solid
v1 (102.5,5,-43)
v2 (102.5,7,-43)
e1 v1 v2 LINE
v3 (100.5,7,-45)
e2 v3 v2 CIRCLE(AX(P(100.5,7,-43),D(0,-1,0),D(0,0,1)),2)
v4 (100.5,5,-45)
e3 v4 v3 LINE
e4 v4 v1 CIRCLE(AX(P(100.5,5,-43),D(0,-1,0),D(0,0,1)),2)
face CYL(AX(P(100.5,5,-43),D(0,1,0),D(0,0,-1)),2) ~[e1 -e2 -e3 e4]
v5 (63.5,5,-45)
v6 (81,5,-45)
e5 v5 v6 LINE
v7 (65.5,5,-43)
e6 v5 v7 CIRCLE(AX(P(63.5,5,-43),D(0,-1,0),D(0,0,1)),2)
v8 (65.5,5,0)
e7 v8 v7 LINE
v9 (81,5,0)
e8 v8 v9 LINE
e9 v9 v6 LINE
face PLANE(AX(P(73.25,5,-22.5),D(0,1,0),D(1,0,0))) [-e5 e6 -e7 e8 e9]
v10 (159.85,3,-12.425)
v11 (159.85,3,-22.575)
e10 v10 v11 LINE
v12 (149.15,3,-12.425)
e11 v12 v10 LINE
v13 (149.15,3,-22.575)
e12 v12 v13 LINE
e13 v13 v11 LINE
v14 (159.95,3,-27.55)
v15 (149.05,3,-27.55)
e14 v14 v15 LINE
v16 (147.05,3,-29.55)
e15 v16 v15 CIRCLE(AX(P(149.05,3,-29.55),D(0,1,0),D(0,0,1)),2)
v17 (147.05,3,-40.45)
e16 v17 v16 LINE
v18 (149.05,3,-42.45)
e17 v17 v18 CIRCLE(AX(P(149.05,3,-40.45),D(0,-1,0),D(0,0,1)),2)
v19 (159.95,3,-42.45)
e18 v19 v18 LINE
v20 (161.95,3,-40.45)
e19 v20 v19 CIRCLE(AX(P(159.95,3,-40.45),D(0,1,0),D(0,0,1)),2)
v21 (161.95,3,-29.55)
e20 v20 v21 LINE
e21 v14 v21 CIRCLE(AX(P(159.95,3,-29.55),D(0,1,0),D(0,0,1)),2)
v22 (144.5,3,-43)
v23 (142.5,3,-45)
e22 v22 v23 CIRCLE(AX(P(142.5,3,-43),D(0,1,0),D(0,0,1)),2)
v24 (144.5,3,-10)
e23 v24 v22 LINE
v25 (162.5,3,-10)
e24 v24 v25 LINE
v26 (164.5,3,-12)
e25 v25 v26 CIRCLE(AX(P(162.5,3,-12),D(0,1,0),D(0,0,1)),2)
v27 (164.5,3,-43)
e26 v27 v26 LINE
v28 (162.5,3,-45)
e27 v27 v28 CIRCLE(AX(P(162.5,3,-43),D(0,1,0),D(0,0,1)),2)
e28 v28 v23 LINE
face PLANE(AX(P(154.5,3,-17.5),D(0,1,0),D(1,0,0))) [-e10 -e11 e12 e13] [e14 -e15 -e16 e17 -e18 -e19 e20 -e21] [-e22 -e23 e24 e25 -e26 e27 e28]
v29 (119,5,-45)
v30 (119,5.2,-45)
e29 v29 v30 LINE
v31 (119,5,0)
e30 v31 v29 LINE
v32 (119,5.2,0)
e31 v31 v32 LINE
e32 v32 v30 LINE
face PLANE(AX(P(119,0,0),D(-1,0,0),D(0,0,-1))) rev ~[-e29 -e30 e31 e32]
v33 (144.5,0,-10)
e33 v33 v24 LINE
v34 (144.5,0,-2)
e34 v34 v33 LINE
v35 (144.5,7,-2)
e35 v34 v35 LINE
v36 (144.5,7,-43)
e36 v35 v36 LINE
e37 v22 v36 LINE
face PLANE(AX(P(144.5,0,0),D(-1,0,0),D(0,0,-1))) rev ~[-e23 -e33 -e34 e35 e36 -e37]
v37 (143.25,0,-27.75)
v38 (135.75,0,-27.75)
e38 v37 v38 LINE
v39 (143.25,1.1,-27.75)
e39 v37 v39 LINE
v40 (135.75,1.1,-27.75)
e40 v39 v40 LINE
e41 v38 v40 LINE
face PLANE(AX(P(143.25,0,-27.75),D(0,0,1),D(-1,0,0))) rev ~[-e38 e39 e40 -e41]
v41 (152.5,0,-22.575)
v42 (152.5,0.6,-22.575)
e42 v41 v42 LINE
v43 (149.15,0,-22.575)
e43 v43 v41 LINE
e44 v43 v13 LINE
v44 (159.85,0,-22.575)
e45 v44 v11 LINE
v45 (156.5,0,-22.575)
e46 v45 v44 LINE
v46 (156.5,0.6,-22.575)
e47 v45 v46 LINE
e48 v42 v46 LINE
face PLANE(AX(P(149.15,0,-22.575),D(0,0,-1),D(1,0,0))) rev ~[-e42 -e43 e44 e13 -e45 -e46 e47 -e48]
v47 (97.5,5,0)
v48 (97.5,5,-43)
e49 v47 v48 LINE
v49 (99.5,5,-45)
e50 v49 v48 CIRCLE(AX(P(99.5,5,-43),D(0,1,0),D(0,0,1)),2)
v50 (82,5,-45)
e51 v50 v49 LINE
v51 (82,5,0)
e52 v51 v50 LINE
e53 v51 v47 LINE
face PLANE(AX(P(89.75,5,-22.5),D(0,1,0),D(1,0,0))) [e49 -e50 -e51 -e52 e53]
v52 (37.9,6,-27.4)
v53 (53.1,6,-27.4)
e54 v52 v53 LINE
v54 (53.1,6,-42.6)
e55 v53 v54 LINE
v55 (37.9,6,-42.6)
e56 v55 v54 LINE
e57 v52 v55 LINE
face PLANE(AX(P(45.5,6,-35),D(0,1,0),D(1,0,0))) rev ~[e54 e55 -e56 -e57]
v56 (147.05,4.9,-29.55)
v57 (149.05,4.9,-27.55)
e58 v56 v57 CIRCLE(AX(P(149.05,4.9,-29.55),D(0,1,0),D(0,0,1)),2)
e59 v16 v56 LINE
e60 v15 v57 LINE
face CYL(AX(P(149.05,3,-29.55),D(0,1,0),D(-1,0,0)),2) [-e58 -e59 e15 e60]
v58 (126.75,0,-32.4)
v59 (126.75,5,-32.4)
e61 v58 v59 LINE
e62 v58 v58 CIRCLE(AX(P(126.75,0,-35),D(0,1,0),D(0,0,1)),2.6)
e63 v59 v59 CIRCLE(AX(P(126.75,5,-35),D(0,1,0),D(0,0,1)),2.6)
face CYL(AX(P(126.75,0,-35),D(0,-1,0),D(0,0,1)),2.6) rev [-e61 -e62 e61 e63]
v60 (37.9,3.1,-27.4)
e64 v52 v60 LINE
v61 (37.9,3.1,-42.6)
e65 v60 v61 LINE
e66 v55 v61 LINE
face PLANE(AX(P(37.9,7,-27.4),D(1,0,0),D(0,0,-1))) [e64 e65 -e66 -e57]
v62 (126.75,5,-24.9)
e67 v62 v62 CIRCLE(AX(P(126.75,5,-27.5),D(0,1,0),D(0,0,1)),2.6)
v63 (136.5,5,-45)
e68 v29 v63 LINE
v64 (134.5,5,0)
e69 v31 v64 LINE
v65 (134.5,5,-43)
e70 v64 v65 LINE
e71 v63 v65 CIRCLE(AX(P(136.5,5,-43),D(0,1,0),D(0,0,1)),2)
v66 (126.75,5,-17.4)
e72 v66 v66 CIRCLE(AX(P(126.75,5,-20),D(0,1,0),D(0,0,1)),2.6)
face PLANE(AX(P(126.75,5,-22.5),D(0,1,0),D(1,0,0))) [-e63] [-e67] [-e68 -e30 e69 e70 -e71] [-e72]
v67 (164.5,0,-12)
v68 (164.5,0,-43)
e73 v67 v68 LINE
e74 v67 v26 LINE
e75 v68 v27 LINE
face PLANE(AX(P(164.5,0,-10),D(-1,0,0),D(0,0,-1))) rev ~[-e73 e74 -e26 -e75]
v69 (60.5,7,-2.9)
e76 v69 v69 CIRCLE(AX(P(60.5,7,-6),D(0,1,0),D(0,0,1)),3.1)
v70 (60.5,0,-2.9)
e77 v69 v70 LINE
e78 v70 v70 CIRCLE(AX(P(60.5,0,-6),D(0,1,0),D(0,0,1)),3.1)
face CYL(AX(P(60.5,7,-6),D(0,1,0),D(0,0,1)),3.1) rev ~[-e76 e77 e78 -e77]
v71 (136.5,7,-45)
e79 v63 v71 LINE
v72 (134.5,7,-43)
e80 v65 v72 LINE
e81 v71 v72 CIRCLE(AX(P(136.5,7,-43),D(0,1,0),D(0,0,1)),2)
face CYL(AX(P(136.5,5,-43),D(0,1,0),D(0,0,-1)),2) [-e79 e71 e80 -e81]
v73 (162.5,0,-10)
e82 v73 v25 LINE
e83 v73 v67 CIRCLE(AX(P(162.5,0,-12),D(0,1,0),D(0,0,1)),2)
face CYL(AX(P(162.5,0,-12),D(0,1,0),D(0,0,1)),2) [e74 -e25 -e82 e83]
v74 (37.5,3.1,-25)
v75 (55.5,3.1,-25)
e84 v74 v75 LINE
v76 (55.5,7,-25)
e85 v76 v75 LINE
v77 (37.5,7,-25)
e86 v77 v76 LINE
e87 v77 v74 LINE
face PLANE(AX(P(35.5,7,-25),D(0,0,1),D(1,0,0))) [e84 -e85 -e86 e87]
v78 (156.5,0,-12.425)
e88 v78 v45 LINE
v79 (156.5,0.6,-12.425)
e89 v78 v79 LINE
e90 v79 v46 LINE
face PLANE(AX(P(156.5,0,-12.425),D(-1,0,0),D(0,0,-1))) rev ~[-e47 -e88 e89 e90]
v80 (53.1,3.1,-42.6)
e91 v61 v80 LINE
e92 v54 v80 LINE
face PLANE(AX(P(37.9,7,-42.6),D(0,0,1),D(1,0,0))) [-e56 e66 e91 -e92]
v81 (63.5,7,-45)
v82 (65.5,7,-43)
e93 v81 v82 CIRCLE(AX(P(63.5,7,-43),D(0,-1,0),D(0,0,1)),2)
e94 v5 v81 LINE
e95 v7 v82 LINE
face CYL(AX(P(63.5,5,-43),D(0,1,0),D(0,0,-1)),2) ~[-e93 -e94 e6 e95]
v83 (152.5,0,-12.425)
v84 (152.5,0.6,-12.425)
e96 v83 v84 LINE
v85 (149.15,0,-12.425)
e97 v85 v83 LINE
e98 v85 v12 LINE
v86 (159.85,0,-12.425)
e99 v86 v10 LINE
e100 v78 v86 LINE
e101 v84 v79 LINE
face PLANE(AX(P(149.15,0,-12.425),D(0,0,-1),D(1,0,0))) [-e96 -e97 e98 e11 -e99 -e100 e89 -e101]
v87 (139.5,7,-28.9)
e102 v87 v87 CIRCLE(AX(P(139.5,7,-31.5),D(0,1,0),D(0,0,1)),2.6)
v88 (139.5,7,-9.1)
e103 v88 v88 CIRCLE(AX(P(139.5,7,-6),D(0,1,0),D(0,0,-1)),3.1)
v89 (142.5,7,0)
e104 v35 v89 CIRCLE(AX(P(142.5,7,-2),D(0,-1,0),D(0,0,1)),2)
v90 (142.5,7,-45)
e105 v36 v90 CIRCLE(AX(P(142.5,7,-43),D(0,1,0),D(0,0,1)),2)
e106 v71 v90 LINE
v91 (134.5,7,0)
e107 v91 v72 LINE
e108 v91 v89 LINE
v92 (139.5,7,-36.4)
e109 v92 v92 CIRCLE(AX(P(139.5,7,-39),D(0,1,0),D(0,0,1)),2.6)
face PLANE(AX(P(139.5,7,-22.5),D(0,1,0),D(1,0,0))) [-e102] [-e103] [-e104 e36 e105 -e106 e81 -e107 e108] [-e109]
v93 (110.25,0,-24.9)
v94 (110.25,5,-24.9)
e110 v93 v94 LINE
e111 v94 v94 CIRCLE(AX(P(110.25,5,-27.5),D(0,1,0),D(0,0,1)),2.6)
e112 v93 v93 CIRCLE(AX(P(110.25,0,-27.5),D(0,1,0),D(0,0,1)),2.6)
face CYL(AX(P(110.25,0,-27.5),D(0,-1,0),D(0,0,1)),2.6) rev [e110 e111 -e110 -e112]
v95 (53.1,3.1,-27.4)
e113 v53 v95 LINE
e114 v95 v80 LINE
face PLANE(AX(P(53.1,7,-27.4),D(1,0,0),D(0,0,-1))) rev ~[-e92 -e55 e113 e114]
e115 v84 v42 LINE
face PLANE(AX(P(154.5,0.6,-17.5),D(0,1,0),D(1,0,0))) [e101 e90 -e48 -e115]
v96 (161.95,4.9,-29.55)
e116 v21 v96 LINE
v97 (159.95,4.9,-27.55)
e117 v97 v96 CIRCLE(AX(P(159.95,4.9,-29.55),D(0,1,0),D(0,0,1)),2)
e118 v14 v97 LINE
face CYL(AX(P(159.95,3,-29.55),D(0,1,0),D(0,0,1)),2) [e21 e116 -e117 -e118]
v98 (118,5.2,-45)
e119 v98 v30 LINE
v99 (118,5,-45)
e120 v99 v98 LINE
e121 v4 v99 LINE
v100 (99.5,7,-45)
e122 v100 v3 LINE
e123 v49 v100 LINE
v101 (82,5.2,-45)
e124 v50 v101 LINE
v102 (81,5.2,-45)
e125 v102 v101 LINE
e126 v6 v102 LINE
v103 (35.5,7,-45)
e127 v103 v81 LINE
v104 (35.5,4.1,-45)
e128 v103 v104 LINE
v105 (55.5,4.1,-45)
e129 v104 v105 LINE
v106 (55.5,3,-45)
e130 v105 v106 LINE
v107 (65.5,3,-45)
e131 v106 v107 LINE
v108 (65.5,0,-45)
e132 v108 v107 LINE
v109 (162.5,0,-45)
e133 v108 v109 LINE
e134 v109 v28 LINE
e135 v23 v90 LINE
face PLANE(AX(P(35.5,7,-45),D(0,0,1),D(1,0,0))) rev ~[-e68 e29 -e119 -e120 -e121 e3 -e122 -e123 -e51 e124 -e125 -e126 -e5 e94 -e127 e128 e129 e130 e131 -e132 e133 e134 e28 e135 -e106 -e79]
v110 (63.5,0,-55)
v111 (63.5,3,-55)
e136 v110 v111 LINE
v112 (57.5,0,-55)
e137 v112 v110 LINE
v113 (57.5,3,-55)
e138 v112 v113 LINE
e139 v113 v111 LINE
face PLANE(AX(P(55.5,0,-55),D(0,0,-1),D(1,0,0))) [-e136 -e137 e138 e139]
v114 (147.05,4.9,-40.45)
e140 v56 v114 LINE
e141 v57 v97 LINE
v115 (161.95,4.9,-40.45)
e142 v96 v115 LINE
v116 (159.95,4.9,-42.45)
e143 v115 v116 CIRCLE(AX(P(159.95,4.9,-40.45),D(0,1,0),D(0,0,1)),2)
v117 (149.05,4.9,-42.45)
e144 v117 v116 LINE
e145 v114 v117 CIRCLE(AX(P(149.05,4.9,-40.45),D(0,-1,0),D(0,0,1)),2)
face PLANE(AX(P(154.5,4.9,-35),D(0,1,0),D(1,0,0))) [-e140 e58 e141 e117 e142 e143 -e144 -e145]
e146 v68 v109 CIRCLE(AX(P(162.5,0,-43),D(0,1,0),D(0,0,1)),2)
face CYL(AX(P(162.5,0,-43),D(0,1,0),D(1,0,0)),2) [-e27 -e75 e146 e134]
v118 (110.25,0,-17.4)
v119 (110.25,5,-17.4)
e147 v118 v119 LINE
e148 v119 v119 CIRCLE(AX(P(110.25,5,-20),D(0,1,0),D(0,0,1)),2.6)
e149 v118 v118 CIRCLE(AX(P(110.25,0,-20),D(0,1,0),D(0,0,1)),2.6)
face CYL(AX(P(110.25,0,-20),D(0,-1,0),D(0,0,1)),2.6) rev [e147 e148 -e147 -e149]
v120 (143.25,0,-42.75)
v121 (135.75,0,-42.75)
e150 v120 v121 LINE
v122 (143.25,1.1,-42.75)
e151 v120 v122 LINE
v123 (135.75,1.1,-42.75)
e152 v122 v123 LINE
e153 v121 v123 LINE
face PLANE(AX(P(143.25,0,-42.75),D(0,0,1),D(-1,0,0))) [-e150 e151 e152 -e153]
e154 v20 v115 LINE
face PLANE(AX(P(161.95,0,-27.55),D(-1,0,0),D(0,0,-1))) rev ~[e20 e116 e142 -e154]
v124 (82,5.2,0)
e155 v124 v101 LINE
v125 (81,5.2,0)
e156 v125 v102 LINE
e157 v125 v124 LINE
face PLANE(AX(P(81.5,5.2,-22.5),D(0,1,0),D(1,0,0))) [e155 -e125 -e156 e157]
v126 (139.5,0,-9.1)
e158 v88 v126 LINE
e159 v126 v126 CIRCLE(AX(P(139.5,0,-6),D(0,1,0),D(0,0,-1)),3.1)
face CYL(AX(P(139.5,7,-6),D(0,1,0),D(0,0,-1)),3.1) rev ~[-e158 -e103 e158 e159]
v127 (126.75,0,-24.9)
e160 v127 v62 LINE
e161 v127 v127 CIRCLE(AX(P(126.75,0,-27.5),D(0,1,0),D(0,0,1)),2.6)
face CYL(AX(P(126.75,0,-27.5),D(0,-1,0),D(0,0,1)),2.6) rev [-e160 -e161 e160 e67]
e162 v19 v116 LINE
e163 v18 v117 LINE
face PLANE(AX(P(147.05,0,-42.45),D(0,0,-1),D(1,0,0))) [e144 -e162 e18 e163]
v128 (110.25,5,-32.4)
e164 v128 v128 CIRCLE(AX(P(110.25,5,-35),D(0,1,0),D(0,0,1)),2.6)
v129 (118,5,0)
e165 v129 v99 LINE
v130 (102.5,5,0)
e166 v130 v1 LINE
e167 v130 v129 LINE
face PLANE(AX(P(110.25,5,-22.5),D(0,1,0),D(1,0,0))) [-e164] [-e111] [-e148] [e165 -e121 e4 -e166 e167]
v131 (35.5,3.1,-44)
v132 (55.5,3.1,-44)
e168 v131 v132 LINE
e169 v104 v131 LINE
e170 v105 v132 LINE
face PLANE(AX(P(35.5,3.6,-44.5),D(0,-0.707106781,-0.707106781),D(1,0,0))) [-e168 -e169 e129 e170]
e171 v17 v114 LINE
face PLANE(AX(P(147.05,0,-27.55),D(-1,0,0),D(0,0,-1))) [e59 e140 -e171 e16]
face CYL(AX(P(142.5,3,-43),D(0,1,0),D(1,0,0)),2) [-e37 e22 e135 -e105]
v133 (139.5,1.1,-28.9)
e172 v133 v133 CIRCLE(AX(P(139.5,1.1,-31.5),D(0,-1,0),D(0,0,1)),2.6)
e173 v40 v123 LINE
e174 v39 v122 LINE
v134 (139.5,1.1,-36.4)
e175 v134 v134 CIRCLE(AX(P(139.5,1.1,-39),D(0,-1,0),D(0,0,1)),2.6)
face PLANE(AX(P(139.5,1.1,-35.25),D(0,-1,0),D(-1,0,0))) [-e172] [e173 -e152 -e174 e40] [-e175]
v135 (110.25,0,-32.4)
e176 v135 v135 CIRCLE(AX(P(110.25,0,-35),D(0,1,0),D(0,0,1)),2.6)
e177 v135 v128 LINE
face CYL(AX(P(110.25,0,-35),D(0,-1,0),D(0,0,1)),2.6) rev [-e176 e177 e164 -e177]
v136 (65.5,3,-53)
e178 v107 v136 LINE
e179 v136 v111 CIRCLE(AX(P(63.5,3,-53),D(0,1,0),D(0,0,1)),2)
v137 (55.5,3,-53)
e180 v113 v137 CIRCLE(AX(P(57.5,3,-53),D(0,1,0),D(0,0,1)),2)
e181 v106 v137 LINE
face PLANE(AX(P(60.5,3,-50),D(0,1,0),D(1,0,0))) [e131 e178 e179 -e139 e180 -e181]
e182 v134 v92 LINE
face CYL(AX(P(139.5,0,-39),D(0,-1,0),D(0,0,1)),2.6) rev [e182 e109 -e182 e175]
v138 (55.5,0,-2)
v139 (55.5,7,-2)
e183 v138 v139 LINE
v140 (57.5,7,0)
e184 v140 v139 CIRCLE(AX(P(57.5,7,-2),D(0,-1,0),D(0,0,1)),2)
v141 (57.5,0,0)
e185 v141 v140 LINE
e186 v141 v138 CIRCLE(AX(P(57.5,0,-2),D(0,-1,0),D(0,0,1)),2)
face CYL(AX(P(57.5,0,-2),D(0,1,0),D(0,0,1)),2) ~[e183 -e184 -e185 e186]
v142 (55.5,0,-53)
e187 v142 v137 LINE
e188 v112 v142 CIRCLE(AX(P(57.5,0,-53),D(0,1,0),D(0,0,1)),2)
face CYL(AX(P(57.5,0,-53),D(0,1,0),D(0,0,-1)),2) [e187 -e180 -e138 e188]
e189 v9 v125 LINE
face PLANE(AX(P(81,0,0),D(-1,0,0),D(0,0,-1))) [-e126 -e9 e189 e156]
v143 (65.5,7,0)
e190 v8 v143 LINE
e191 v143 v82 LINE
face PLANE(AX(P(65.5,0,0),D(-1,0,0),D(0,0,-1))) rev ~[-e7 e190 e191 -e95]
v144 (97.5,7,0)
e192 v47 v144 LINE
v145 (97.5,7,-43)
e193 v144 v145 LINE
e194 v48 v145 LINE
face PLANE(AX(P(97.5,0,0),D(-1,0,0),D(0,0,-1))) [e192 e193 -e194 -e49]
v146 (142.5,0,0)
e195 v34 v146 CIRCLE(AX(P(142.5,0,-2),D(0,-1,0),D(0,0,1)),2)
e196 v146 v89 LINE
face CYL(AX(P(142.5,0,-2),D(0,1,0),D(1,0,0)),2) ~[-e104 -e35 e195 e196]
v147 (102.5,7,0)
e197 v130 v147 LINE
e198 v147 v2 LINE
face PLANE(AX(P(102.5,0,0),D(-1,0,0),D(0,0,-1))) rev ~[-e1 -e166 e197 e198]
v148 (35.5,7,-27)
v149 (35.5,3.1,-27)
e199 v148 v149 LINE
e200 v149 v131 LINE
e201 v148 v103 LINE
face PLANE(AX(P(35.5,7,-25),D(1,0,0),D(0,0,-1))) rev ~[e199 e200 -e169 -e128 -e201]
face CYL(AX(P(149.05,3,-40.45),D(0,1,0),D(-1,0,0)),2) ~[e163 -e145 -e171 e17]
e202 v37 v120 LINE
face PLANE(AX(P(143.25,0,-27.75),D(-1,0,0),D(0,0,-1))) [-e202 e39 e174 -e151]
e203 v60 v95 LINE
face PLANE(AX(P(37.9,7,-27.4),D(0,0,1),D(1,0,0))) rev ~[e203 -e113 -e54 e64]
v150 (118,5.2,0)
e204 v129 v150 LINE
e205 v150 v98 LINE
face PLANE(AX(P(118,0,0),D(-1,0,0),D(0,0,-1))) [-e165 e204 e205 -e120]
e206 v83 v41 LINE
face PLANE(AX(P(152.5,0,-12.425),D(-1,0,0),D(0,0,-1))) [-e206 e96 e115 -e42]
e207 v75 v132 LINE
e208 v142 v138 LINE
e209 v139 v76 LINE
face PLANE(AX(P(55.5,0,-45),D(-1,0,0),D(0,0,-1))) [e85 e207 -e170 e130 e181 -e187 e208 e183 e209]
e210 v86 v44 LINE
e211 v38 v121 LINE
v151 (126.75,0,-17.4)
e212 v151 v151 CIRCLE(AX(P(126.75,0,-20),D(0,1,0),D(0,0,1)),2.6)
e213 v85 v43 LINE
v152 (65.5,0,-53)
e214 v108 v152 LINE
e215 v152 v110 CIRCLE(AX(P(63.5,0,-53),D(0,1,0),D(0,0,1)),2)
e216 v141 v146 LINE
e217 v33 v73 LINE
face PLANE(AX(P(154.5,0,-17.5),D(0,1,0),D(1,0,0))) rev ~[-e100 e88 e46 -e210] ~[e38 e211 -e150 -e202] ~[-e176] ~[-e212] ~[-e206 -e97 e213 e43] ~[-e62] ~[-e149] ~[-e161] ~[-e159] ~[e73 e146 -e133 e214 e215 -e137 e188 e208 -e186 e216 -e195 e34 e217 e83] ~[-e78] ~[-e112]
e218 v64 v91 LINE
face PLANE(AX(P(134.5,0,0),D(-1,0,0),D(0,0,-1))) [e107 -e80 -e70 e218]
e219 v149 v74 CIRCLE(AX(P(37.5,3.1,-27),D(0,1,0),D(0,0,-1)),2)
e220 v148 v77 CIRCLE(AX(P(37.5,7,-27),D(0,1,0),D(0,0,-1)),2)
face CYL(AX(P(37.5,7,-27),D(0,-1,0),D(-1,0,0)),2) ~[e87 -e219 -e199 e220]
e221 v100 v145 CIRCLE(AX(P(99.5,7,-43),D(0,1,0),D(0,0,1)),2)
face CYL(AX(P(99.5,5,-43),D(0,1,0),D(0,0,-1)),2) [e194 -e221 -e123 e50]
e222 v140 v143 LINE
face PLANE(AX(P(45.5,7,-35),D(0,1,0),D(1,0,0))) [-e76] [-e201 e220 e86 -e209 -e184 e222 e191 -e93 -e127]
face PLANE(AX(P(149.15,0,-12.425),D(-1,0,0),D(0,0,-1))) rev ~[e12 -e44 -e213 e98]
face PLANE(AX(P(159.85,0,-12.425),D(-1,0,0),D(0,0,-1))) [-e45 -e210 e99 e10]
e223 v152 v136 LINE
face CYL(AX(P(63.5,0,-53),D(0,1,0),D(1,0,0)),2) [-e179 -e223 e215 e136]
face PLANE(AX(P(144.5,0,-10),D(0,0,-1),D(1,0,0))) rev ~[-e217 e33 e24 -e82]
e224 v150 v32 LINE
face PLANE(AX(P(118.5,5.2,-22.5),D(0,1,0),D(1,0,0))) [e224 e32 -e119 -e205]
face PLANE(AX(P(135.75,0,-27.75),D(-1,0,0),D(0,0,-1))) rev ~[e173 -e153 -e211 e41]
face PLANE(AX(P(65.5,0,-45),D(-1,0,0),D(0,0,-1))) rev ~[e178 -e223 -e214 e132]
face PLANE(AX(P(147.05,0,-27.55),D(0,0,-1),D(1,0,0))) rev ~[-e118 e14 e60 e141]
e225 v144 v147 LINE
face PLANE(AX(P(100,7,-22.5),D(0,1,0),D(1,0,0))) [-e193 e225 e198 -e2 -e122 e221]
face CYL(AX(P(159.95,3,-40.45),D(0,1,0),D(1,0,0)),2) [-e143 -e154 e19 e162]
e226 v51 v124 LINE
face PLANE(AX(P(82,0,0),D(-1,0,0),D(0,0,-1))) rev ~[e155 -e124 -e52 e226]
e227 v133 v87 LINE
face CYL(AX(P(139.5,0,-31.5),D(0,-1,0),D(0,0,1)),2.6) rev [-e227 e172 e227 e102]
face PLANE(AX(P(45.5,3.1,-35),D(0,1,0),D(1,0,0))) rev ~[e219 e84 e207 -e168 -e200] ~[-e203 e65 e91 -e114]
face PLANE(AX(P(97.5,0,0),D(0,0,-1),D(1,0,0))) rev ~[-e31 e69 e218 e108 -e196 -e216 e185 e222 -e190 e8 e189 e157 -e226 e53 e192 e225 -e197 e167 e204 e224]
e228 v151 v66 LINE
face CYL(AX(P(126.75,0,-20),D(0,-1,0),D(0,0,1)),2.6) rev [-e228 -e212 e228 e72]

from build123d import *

# Parameters (mm, degrees)
SKETCH1_W             = 15.5
SKETCH1_H             = 45
BOSS_EXTRUDE1_DEPTH   = 5
BOSS_EXTRUDE1_2_DEPTH = 5
SKETCH1_R             = 2.6
BOSS_EXTRUDE1_3_DEPTH = 5
BOSS_EXTRUDE1_4_DEPTH = 5
SKETCH1_3_W           = 1
SKETCH1_3_H           = 45
BOSS_EXTRUDE2_DEPTH   = 5.2
SKETCH1_4_W           = 5
SKETCH1_4_H           = 45
SKETCH1_4_W_2         = 10
SKETCH1_4_R           = 2.6
BOSS_EXTRUDE3_DEPTH   = 7
SKETCH2_W             = 7.5
SKETCH2_H             = 15
CUT_EXTRUDE1_DEPTH    = 1.1
SKETCH3_R             = 3.1
CUT_EXTRUDE2_DEPTH    = 152.506600516
SKETCH5_W             = 20
SKETCH5_H             = 20
SKETCH5_W_2           = 14.9
SKETCH5_H_2           = 14.9
BOSS_EXTRUDE4_DEPTH   = 3
SKETCH5_3_W           = 14.9
SKETCH5_3_H           = 14.9
BOSS_EXTRUDE5_DEPTH   = 4.9
BOSS_EXTRUDE6_START   = 7
SKETCH5_4_W           = 20
SKETCH5_4_H           = 20
SKETCH5_4_W_2         = 15.2
SKETCH5_4_H_2         = 15.2
BOSS_EXTRUDE6_DEPTH   = 3.9
BOSS_EXTRUDE7_START   = 7
SKETCH5_5_W           = 15.2
SKETCH5_5_H           = 15.2
BOSS_EXTRUDE7_DEPTH   = 1
FILLET1_R             = 2
BOSS_EXTRUDE8_START   = -7
SKETCH6_W             = 10
SKETCH6_H             = 10
BOSS_EXTRUDE8_DEPTH   = 3
CHAMFER1_SIZE         = 1
SKETCH8_W             = 20
SKETCH8_H             = 15
SKETCH8_W_2           = 10.7
SKETCH8_H_2           = 10.15
BOSS_EXTRUDE9_DEPTH   = 3
SKETCH8_3_W           = 4
SKETCH8_3_H           = 10.15
BOSS_EXTRUDE10_DEPTH  = 0.6
FILLET3_R             = 2


with BuildPart() as part:
    # Sketch1 → Boss-Extrude1 (new body)
    with BuildSketch(Plane(origin=(0, 0, 0), x_dir=(1, 0, 0), z_dir=(0, 1, 0))):
        with Locations((73.25, 22.5)):
            Rectangle(SKETCH1_W, SKETCH1_H)
    extrude(amount=BOSS_EXTRUDE1_DEPTH)



with BuildPart() as body_2:
    # Sketch1 → Boss-Extrude1 2 (new body)
    with BuildSketch(Plane(origin=(0, 0, 0), x_dir=(1, 0, 0), z_dir=(0, 1, 0))):
        with Locations((89.75, 22.5)):
            Rectangle(SKETCH1_W, SKETCH1_H)
    extrude(amount=BOSS_EXTRUDE1_2_DEPTH)


with BuildPart() as body_3:
    # Sketch1 → Boss-Extrude1 3 (new body)
    with BuildSketch(Plane(origin=(0, 0, 0), x_dir=(1, 0, 0), z_dir=(0, 1, 0))):
        with Locations((110.25, 22.5)):
            Rectangle(SKETCH1_W, SKETCH1_H)
        with Locations(Location((110.25, 20, 0), (0, 0, 270))):
            Circle(SKETCH1_R, mode=Mode.SUBTRACT)
        with Locations(Location((110.25, 27.5, 0), (0, 0, 270))):
            Circle(SKETCH1_R, mode=Mode.SUBTRACT)
        with Locations(Location((110.25, 35, 0), (0, 0, 270))):
            Circle(SKETCH1_R, mode=Mode.SUBTRACT)
    extrude(amount=BOSS_EXTRUDE1_3_DEPTH)


with BuildPart() as body_4:
    # Sketch1 → Boss-Extrude1 4 (new body)
    with BuildSketch(Plane(origin=(0, 0, 0), x_dir=(1, 0, 0), z_dir=(0, 1, 0))):
        with Locations((126.75, 22.5)):
            Rectangle(SKETCH1_W, SKETCH1_H)
        with Locations(Location((126.75, 20, 0), (0, 0, 270))):
            Circle(SKETCH1_R, mode=Mode.SUBTRACT)
        with Locations(Location((126.75, 27.5, 0), (0, 0, 270))):
            Circle(SKETCH1_R, mode=Mode.SUBTRACT)
        with Locations(Location((126.75, 35, 0), (0, 0, 270))):
            Circle(SKETCH1_R, mode=Mode.SUBTRACT)
    extrude(amount=BOSS_EXTRUDE1_4_DEPTH)


with BuildPart() as part_1:
    add(part.part)

    add(body_2.part)  # Boss-Extrude2 merges body 2

    add(body_3.part)  # Boss-Extrude2 merges body 3

    add(body_4.part)  # Boss-Extrude2 merges body 4
    # Sketch1<3> → Boss-Extrude2 (add)
    with BuildSketch(Plane(origin=(0, 0, 0), x_dir=(1, 0, 0), z_dir=(0, 1, 0))):
        with Locations((81.5, 22.5)):
            Rectangle(SKETCH1_3_W, SKETCH1_3_H)
        with Locations((118.5, 22.5)):
            Rectangle(SKETCH1_3_W, SKETCH1_3_H)
    extrude(amount=BOSS_EXTRUDE2_DEPTH)

    # Sketch1<4> → Boss-Extrude3 (add)
    # profile 1 of 3: a face of its own
    with BuildSketch(Plane(origin=(0, 0, 0), x_dir=(1, 0, 0), z_dir=(0, 1, 0))):
        with Locations((100, 22.5)):
            Rectangle(SKETCH1_4_W, SKETCH1_4_H)
    # profile 2 of 3: a face of its own
    with BuildSketch(Plane(origin=(0, 0, 0), x_dir=(1, 0, 0), z_dir=(0, 1, 0))):
        with Locations((139.5, 22.5)):
            Rectangle(SKETCH1_4_W_2, SKETCH1_4_H)
        with Locations(Location((139.5, 31.5, 0), (0, 0, 270))):
            Circle(SKETCH1_4_R, mode=Mode.SUBTRACT)
        with Locations(Location((139.5, 39, 0), (0, 0, 270))):
            Circle(SKETCH1_4_R, mode=Mode.SUBTRACT)
    # profile 3 of 3: a face of its own
    with BuildSketch(Plane(origin=(0, 0, 0), x_dir=(1, 0, 0), z_dir=(0, 1, 0))):
        with Locations((60.5, 22.5)):
            Rectangle(SKETCH1_4_W_2, SKETCH1_4_H)
    extrude(amount=BOSS_EXTRUDE3_DEPTH)

    # Sketch2 → Cut-Extrude1 (cut)
    with BuildSketch(Plane(origin=(0, 0, 0), x_dir=(-1, 0, 0), z_dir=(0, -1, 0))):
        with Locations((-139.5, 35.25)):
            Rectangle(SKETCH2_W, SKETCH2_H)
    extrude(amount=-CUT_EXTRUDE1_DEPTH, mode=Mode.SUBTRACT)

    # Sketch3 → Cut-Extrude2 (cut, through all)
    with BuildSketch(Plane(origin=(0, 7, 0), x_dir=(1, 0, 0), z_dir=(0, 1, 0))):
        with Locations(Location((60.5, 6, 0), (0, 0, 270))):
            Circle(SKETCH3_R)
        with Locations(Location((139.5, 6, 0), (0, 0, 90))):
            Circle(SKETCH3_R)
    extrude(amount=-CUT_EXTRUDE2_DEPTH, mode=Mode.SUBTRACT)

    # Sketch5 → Boss-Extrude4 (add)
    # profile 1 of 2: a face of its own
    with BuildSketch(Plane(origin=(0, 0, 0), x_dir=(1, 0, 0), z_dir=(0, 1, 0))):
        with Locations((154.5, 35)):
            Rectangle(SKETCH5_W, SKETCH5_H)
        with Locations((154.5, 35)):
            Rectangle(SKETCH5_W_2, SKETCH5_H_2, mode=Mode.SUBTRACT)
    # profile 2 of 2: a face of its own
    with BuildSketch(Plane(origin=(0, 0, 0), x_dir=(1, 0, 0), z_dir=(0, 1, 0))):
        with Locations((154.5, 35)):
            Rectangle(SKETCH5_W_2, SKETCH5_H_2)
    extrude(amount=BOSS_EXTRUDE4_DEPTH)

    # Sketch5<3> → Boss-Extrude5 (add)
    with BuildSketch(Plane(origin=(0, 0, 0), x_dir=(1, 0, 0), z_dir=(0, 1, 0))):
        with Locations((154.5, 35)):
            Rectangle(SKETCH5_3_W, SKETCH5_3_H)
    extrude(amount=BOSS_EXTRUDE5_DEPTH)

    # Sketch5<4> → Boss-Extrude6 (add)
    with BuildSketch(Plane(origin=(0, 0, 0), x_dir=(1, 0, 0), z_dir=(0, 1, 0)).offset(BOSS_EXTRUDE6_START)):
        with Locations((45.5, 35)):
            Rectangle(SKETCH5_4_W, SKETCH5_4_H)
        with Locations((45.5, 35)):
            Rectangle(SKETCH5_4_W_2, SKETCH5_4_H_2, mode=Mode.SUBTRACT)
    extrude(amount=-BOSS_EXTRUDE6_DEPTH)

    # Sketch5<5> → Boss-Extrude7 (add)
    with BuildSketch(Plane(origin=(0, 0, 0), x_dir=(1, 0, 0), z_dir=(0, 1, 0)).offset(BOSS_EXTRUDE7_START)):
        with Locations((45.5, 35)):
            Rectangle(SKETCH5_5_W, SKETCH5_5_H)
    extrude(amount=-BOSS_EXTRUDE7_DEPTH)

    # Fillet1
    fillet1_edges = [part_1.edges().sort_by_distance(p)[0] for p in [
        (161.95, 3.95, -42.45),
        (147.05, 3.95, -42.45),
        (147.05, 3.95, -27.55),
        (161.95, 3.95, -27.55),
    ]]
    fillet(fillet1_edges, radius=FILLET1_R)

    # Sketch6 → Boss-Extrude8 (add)
    with BuildSketch(Plane(origin=(0, 7, 0), x_dir=(1, 0, 0), z_dir=(0, 1, 0)).offset(BOSS_EXTRUDE8_START)):
        with Locations((60.5, 50)):
            Rectangle(SKETCH6_W, SKETCH6_H)
    extrude(amount=BOSS_EXTRUDE8_DEPTH)

    # Chamfer1
    chamfer1_edges = [part_1.edges().sort_by_distance(p)[0] for p in [
        (45.5, 3.1, -45),
    ]]
    chamfer(chamfer1_edges, length=CHAMFER1_SIZE)

    # Sketch8 → Boss-Extrude9 (add)
    with BuildSketch(Plane(origin=(0, 0, 0), x_dir=(1, 0, 0), z_dir=(0, 1, 0))):
        with Locations((154.5, 17.5)):
            Rectangle(SKETCH8_W, SKETCH8_H)
        with Locations((154.5, 17.5)):
            Rectangle(SKETCH8_W_2, SKETCH8_H_2, mode=Mode.SUBTRACT)
    extrude(amount=BOSS_EXTRUDE9_DEPTH)

    # Sketch8<3> → Boss-Extrude10 (add)
    with BuildSketch(Plane(origin=(0, 0, 0), x_dir=(1, 0, 0), z_dir=(0, 1, 0))):
        with Locations((154.5, 17.5)):
            Rectangle(SKETCH8_3_W, SKETCH8_3_H)
    extrude(amount=BOSS_EXTRUDE10_DEPTH)

    # Fillet3
    fillet3_edges = [part_1.edges().sort_by_distance(p)[0] for p in [
        (164.5, 1.5, -45),
        (35.5, 5.05, -25),
        (65.5, 1.5, -55),
        (55.5, 1.5, -55),
        (164.5, 1.5, -10),
        (97.5, 6, -45),
        (102.5, 6, -45),
        (134.5, 6, -45),
        (144.5, 3.5, 0),
        (144.5, 5, -45),
        (55.5, 3.5, 0),
        (65.5, 6, -45),
    ]]
    fillet(fillet3_edges, radius=FILLET3_R)


solid = part_1.part
